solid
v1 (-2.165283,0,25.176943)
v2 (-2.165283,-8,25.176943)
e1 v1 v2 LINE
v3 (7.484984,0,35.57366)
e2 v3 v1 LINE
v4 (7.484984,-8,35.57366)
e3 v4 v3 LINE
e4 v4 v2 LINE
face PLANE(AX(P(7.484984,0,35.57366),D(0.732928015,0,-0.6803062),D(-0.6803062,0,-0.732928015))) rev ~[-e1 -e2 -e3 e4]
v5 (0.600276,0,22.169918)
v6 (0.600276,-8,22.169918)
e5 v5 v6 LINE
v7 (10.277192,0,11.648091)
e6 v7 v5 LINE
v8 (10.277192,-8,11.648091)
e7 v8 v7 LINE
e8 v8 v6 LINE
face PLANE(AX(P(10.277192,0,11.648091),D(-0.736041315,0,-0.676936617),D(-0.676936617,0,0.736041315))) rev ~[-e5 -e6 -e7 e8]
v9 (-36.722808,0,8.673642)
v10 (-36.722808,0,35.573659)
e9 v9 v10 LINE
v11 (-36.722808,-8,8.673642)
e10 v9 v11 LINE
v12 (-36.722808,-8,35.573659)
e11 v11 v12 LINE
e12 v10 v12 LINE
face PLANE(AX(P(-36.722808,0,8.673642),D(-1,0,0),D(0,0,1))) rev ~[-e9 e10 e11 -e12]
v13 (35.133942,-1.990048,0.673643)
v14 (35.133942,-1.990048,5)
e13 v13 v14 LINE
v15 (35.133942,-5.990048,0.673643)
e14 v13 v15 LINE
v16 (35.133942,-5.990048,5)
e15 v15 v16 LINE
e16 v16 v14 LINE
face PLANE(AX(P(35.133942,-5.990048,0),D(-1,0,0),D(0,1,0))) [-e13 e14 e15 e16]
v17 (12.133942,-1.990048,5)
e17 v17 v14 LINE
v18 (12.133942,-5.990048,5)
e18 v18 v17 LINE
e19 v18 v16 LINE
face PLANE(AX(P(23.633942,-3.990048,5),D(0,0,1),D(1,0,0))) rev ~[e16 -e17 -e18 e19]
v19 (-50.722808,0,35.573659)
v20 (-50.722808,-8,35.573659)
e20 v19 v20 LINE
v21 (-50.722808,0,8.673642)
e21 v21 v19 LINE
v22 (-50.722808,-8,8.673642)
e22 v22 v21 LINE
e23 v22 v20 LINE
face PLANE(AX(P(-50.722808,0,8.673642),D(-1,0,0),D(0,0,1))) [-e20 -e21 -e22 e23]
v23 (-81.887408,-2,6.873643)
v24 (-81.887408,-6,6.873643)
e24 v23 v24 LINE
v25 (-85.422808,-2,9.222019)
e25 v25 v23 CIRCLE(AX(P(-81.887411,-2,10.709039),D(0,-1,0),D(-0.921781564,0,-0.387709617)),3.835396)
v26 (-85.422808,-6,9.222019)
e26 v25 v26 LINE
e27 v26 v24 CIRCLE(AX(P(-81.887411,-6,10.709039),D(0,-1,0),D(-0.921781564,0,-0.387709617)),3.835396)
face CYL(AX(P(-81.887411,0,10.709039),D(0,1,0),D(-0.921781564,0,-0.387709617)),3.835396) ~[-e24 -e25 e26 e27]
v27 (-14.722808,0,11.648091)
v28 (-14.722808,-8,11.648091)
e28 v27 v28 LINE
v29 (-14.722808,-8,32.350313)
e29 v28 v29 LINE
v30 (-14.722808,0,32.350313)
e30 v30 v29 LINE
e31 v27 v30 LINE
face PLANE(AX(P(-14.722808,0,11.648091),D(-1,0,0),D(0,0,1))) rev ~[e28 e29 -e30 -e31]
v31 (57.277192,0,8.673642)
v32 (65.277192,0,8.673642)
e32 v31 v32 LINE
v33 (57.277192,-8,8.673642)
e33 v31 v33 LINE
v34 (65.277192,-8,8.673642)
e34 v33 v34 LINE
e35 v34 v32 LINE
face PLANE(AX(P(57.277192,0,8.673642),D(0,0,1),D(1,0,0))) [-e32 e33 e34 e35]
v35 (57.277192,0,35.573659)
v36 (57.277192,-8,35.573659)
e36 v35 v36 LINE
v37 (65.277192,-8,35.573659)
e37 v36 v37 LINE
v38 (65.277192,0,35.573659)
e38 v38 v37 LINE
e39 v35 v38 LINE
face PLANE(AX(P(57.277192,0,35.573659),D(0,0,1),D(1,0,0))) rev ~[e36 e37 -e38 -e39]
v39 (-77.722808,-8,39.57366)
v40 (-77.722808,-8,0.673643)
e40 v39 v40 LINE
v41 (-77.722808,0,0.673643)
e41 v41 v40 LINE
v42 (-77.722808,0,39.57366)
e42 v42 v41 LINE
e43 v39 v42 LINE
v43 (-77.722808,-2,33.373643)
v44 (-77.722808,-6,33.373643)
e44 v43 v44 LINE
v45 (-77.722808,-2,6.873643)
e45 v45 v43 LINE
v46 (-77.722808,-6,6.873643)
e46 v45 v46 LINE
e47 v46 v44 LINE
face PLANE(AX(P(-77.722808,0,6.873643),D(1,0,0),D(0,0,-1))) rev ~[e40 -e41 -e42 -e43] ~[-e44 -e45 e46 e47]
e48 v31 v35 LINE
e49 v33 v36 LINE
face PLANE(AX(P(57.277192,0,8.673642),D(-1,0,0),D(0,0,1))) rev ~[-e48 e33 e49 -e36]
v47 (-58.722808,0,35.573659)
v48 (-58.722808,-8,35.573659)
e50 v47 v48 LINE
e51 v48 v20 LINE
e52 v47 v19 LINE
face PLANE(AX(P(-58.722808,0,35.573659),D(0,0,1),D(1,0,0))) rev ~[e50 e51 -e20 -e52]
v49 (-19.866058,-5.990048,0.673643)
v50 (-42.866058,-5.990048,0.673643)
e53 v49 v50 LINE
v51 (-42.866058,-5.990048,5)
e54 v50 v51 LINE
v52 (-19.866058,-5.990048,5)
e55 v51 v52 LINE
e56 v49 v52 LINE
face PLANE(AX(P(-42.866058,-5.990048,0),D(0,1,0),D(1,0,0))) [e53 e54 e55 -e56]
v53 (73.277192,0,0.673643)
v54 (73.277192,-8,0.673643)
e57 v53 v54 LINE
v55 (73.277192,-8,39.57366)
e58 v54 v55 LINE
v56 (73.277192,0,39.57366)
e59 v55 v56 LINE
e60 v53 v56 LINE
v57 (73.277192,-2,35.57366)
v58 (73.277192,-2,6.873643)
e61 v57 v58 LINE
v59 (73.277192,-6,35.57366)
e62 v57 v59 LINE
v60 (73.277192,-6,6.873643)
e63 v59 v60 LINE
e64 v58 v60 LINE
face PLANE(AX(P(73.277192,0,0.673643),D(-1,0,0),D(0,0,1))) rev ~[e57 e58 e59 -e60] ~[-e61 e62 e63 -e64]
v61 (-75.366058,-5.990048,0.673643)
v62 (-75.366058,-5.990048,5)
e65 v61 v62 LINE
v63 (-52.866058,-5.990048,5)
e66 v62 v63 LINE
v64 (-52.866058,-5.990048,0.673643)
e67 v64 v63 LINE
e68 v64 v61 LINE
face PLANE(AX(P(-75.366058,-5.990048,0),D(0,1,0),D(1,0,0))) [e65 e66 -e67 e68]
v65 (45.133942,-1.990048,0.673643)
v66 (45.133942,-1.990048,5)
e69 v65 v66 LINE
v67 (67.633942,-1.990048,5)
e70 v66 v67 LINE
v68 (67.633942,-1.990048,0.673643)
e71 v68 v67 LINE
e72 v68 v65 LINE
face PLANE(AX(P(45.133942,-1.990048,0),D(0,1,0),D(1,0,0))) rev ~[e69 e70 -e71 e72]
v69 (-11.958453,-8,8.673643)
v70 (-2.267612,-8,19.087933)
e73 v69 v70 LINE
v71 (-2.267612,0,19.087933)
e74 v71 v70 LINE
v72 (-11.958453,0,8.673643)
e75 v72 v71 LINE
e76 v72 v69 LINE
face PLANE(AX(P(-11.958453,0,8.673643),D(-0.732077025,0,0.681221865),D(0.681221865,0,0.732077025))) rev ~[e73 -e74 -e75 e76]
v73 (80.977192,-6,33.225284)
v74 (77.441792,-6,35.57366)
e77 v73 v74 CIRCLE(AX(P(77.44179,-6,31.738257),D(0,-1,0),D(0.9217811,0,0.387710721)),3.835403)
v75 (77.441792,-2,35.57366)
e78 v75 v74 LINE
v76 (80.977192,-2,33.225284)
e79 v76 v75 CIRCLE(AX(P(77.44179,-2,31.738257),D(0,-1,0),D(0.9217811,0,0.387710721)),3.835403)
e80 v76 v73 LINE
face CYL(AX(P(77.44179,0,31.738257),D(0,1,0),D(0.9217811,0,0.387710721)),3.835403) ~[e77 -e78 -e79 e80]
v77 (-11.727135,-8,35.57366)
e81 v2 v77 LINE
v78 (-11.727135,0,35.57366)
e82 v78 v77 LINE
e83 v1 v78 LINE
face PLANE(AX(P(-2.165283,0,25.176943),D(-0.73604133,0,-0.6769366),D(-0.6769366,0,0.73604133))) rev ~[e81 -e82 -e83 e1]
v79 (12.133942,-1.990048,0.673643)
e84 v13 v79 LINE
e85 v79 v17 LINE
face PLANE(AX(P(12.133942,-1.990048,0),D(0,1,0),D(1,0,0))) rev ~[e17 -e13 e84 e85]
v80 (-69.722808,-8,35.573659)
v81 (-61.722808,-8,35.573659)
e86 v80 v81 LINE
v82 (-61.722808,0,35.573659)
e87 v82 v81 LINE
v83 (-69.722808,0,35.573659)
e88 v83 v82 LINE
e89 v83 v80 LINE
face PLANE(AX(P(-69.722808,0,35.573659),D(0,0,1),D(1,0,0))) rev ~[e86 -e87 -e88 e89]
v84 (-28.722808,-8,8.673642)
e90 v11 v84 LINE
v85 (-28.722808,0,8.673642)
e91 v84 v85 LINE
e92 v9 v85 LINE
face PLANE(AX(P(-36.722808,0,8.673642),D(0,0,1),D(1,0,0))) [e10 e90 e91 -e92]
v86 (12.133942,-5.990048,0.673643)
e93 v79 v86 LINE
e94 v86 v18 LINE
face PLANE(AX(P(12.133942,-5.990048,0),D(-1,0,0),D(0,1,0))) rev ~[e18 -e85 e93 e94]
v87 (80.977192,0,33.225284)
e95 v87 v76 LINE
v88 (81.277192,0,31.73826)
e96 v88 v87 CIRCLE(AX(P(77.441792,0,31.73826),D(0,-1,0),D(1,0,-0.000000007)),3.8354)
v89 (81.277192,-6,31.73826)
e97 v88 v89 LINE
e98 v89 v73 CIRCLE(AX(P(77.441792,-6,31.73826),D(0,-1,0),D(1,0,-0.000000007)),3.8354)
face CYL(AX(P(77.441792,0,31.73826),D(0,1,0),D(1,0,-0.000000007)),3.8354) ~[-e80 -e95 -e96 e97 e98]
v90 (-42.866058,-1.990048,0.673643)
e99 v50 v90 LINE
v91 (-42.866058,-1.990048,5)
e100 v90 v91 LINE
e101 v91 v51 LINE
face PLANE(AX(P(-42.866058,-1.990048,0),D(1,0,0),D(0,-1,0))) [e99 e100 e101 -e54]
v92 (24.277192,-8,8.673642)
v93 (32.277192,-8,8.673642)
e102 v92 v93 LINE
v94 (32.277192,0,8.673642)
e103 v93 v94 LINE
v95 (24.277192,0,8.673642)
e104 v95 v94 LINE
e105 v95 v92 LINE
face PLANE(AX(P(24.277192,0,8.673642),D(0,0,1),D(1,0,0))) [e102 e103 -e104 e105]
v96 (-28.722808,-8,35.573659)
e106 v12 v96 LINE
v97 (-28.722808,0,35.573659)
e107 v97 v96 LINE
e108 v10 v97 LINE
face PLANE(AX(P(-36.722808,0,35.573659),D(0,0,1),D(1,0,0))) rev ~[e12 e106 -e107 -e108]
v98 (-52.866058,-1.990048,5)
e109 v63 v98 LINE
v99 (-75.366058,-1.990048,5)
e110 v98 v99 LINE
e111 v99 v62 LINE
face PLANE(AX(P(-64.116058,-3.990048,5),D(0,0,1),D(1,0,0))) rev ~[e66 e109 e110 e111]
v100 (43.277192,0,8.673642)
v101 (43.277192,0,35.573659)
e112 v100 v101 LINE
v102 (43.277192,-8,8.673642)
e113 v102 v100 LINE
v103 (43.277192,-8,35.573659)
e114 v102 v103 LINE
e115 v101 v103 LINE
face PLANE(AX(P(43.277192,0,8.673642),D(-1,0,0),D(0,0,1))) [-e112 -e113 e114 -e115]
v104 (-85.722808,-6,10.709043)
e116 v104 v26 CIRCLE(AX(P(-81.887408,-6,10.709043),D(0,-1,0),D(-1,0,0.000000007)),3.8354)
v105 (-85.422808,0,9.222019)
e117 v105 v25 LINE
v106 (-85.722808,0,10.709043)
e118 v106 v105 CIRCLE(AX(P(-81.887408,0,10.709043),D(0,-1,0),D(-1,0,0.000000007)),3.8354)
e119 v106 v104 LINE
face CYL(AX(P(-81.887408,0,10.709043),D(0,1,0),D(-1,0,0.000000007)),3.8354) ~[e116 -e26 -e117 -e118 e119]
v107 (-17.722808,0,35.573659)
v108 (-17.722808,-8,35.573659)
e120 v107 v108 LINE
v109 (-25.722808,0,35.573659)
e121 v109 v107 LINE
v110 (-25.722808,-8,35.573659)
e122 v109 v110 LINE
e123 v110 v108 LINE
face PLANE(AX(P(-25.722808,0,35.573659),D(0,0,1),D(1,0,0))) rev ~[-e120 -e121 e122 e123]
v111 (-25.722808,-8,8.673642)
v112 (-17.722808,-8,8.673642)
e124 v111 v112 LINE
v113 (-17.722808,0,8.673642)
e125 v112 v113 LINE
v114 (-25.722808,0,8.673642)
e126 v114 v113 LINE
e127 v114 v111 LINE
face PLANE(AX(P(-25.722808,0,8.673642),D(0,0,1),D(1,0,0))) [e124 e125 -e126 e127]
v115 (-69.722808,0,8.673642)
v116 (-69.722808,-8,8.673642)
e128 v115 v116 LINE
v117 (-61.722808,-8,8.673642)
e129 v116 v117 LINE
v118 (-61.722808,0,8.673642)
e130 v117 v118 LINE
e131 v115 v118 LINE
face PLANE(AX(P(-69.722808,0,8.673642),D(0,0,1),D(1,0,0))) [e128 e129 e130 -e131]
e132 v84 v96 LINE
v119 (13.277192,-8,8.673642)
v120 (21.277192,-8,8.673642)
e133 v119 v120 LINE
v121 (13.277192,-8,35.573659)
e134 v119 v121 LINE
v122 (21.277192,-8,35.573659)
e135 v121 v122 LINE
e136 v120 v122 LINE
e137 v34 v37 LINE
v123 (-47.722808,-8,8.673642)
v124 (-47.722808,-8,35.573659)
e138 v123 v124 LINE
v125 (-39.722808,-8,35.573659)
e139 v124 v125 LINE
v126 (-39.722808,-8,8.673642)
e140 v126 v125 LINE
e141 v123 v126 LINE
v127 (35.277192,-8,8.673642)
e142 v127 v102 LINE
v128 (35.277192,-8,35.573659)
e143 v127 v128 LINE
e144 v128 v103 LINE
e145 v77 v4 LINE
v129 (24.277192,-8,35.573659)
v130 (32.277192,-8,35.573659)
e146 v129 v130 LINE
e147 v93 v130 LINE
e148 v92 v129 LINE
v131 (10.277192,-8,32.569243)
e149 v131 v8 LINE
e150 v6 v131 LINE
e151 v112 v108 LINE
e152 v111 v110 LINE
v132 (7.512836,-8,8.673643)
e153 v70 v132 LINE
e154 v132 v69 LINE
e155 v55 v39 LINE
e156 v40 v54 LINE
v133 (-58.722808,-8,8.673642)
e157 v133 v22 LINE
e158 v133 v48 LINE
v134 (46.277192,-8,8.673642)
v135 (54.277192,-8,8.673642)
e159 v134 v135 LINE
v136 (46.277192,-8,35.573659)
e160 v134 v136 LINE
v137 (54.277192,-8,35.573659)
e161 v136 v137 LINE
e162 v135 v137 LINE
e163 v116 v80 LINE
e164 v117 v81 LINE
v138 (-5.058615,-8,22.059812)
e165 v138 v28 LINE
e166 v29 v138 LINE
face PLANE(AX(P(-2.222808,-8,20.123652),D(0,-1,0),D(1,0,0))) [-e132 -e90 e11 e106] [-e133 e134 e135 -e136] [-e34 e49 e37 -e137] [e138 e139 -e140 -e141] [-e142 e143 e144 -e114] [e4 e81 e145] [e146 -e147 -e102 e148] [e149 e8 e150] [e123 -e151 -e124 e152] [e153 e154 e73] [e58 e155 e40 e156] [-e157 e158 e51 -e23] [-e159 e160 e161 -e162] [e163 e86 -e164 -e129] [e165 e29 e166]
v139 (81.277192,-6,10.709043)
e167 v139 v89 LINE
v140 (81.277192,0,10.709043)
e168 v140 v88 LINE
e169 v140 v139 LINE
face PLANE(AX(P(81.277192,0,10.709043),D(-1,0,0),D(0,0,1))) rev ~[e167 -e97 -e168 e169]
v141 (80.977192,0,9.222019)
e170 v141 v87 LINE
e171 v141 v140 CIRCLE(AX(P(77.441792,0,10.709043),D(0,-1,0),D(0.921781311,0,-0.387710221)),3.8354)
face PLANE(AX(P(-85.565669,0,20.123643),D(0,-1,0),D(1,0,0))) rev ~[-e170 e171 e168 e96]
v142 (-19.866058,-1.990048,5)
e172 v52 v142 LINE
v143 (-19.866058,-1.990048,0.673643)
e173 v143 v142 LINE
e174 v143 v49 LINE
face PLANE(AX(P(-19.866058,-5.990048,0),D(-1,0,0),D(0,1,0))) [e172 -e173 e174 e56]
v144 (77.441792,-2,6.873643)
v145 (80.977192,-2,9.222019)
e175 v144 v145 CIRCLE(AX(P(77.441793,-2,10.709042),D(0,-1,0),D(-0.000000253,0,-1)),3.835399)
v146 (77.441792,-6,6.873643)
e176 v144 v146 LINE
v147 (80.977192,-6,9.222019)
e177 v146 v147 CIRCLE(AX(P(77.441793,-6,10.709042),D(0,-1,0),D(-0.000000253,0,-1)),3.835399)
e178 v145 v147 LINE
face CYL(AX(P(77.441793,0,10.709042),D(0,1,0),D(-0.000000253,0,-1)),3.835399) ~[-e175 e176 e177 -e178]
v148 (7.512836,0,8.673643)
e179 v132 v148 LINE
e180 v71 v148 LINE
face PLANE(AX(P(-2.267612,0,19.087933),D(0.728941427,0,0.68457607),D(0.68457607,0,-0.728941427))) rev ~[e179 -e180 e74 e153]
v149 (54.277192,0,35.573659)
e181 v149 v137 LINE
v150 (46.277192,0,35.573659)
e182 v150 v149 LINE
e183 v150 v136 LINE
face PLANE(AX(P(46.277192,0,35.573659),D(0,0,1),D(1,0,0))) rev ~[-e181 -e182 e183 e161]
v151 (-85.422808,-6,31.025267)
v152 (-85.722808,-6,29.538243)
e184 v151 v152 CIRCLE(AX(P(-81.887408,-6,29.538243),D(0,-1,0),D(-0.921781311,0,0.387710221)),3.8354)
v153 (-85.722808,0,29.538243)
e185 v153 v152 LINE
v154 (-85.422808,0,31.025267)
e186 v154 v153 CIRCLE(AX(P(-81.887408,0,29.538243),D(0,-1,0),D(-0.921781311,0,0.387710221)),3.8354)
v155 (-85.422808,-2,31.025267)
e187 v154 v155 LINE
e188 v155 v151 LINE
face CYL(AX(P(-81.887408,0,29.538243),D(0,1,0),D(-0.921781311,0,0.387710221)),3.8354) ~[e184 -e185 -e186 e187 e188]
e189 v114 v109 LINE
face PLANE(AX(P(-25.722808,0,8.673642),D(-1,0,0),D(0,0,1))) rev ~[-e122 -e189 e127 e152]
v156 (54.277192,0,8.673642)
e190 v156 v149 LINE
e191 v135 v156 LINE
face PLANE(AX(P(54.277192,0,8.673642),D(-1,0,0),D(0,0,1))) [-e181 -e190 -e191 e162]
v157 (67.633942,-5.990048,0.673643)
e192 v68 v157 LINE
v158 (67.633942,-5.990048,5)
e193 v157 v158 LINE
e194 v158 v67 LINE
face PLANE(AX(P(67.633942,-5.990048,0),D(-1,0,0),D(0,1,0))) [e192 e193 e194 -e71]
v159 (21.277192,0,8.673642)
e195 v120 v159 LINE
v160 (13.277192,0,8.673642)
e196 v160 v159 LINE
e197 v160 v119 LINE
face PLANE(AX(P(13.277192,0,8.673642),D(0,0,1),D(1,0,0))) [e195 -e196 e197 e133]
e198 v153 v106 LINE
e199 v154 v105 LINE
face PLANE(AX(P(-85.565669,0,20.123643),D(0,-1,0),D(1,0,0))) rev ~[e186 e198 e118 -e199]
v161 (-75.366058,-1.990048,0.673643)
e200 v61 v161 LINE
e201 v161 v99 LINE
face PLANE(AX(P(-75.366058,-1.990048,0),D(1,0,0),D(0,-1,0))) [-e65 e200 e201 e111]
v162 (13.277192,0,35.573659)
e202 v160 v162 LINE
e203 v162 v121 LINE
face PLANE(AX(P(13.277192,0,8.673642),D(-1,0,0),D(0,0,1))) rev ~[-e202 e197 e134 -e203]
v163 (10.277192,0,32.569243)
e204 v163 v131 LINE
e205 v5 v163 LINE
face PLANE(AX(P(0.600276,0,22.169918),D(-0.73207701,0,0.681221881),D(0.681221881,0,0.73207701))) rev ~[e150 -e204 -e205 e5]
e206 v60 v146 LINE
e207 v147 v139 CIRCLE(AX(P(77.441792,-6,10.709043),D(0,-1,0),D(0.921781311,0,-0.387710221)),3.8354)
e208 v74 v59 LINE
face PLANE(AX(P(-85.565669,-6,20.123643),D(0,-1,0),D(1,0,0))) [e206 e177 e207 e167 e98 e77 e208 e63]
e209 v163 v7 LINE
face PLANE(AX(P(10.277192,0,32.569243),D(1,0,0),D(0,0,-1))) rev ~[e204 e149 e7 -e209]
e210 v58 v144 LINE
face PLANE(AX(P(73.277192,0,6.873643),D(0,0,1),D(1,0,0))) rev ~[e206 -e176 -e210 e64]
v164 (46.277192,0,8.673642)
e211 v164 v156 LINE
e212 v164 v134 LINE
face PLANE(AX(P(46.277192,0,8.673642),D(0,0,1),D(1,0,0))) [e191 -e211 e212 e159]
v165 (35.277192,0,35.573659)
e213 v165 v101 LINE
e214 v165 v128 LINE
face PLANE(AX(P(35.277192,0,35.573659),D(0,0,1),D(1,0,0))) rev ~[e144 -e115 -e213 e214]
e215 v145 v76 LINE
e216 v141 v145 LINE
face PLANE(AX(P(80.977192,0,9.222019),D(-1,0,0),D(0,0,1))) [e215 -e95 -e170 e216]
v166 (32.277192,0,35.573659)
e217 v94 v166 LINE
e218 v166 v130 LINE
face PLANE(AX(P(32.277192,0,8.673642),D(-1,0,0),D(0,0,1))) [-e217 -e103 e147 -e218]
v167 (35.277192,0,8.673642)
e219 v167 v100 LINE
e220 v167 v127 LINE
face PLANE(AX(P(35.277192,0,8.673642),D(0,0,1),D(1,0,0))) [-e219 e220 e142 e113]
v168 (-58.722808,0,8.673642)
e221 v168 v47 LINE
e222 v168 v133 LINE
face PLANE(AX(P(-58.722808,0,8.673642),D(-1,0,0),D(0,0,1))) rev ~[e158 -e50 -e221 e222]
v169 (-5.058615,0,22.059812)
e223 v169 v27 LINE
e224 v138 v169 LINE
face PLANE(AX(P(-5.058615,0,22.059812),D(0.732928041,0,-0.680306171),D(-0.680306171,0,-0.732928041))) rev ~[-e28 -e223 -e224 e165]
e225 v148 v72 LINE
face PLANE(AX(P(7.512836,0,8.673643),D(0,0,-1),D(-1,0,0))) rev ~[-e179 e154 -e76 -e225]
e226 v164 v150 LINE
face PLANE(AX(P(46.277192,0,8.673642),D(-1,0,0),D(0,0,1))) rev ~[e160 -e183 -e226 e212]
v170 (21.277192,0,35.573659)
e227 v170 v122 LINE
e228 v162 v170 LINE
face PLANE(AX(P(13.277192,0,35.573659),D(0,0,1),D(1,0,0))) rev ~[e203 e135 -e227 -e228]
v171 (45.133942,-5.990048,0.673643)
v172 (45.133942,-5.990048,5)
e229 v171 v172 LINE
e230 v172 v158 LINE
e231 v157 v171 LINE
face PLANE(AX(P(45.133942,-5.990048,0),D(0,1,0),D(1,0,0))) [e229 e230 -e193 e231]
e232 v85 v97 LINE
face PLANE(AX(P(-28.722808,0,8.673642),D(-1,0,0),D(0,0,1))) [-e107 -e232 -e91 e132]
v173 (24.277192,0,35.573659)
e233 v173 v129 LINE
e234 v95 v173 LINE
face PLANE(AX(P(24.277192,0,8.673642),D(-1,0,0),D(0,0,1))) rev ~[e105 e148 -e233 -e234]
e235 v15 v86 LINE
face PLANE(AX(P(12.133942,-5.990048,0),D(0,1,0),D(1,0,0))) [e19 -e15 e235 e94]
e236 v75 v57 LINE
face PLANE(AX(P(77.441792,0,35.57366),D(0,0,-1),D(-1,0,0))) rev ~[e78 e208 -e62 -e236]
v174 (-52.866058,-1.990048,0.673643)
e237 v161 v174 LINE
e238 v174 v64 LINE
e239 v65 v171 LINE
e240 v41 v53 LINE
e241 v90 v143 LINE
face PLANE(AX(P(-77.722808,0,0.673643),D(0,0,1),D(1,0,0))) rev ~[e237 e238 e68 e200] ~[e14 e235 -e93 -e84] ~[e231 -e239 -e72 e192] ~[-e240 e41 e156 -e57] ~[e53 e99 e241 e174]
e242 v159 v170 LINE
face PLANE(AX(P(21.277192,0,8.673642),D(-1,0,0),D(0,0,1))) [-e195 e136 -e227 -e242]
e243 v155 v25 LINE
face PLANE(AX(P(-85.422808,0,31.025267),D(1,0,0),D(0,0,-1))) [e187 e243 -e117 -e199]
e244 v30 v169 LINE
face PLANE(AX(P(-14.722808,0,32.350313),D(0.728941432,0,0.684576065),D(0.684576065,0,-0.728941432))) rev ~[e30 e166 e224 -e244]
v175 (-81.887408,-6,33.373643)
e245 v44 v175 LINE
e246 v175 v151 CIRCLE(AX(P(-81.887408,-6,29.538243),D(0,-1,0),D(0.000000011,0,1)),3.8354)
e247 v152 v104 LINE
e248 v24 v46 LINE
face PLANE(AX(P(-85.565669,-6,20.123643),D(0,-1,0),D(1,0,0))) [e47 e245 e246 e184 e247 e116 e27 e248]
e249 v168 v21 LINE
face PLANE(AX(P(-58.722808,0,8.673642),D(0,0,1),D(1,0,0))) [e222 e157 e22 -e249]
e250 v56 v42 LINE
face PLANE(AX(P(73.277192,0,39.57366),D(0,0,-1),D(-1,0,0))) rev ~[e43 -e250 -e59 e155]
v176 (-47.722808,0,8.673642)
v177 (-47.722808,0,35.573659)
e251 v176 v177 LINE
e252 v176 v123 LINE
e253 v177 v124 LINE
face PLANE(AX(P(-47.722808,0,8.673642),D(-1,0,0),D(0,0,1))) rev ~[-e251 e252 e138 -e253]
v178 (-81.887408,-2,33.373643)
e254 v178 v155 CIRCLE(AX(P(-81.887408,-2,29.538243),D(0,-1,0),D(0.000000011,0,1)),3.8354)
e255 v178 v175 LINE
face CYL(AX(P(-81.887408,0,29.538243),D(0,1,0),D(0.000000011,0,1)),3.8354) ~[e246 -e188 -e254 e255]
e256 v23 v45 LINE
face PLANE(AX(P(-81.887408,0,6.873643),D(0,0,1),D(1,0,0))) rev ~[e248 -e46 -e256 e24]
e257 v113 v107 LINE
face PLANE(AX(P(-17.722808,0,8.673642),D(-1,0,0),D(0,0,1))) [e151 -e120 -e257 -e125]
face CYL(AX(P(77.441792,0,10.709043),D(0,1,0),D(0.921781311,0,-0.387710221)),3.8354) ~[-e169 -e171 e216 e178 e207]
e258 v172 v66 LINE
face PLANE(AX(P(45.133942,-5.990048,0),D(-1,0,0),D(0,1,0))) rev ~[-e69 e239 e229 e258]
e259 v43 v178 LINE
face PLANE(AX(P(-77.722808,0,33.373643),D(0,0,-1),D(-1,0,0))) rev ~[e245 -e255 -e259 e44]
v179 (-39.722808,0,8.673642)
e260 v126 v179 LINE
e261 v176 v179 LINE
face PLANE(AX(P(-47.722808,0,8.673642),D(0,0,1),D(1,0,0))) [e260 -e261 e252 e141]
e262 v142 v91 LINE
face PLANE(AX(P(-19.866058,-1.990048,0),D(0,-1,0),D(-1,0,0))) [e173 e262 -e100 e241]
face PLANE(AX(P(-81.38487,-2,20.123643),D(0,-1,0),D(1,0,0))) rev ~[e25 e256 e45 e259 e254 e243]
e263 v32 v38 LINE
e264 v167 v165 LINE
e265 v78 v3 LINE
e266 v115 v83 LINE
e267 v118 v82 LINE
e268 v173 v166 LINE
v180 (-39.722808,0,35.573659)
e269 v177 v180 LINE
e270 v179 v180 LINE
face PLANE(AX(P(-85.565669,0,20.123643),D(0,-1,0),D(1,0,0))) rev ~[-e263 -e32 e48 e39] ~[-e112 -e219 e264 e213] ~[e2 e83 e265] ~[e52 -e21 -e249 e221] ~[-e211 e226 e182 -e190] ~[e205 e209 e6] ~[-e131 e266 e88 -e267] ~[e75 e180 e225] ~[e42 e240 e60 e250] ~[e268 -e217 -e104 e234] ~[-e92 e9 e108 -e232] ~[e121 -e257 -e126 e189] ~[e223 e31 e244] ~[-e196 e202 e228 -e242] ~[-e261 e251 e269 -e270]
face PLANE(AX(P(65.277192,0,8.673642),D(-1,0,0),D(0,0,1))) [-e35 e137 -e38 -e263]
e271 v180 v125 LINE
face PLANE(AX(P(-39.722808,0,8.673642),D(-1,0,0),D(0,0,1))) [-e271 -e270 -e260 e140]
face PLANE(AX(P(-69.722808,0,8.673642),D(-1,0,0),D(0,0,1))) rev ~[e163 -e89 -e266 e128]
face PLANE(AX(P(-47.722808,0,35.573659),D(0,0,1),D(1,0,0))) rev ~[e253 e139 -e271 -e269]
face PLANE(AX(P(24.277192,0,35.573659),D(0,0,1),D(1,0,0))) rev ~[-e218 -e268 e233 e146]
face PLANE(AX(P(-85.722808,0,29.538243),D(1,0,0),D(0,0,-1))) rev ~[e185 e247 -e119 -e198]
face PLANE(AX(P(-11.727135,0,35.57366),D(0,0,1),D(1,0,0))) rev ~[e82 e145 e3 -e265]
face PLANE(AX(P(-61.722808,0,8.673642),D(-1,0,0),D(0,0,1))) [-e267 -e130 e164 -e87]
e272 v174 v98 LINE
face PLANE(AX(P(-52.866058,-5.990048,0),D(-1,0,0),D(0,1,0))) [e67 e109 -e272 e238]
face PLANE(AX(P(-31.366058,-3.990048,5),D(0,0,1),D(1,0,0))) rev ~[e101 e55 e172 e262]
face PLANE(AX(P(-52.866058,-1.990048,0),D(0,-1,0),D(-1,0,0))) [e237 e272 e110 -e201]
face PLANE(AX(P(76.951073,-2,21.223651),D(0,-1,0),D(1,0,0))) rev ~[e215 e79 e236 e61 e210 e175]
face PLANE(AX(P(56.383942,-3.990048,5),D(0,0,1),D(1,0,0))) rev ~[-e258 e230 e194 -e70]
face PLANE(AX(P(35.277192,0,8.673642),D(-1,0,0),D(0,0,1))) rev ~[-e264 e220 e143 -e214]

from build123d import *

# Parameters (mm, degrees)
F0_W     = 8
F0_H     = 26.900017
F1_DEPTH = 6
F2_DEPTH = 2
F3_DEPTH = 8
F4_W     = 23
F4_H     = 4
F4_W_2   = 22.5
F5_DEPTH = 5


with BuildPart() as f1:
    # F0 (on Front) → F1 (new body)
    with BuildSketch(Plane.XZ):
        with BuildLine():
            Line((-85.422808, 9.222019), (-85.422808, 31.025267))
            ThreePointArc((-85.422808, 31.025267), (-85.64706, 30.296735), (-85.722808, 29.538243))
            Line((-85.722808, 29.538243), (-85.722808, 10.709043))
            ThreePointArc((-85.722808, 10.709043), (-85.64706, 9.950551), (-85.422808, 9.222019))
        make_face()
        with BuildLine():
            ThreePointArc((81.277192, 31.73826), (81.201444, 32.496752), (80.977192, 33.225284))
            Line((80.977192, 33.225284), (80.977192, 9.222019))
            ThreePointArc((80.977192, 9.222019), (81.201444, 9.950551), (81.277192, 10.709043))
            Line((81.277192, 10.709043), (81.277192, 31.73826))
        make_face()
        with BuildLine():
            Line((77.441792, 35.57366), (73.277192, 35.57366))
            Line((73.277192, 35.57366), (73.277192, 11.555429))
            Line((73.277192, 11.555429), (73.277192, 8.673643))
            Line((73.277192, 8.673643), (73.277192, 6.873643))
            Line((73.277192, 6.873643), (77.441792, 6.873643))
            ThreePointArc((77.441792, 6.873643), (79.563932, 7.514232), (80.977192, 9.222019))
            Line((80.977192, 9.222019), (80.977192, 33.225284))
            ThreePointArc((80.977192, 33.225284), (79.563932, 34.93307), (77.441792, 35.57366))
        make_face()
        Polygon((-69.722808, 39.57366), (-77.722808, 39.57366), (-77.722808, 35.57366), (-77.722808, 33.373643), (-77.722808, 15.555412), (-77.722808, 8.673643), (-77.722808, 6.873643), (-77.722808, 0.673643), (-69.722808, 0.673643), (65.277192, 0.673643), (73.277192, 0.673643), (73.277192, 6.873643), (73.277192, 8.673643), (73.277192, 11.555429), (73.277192, 35.57366), (73.277192, 39.57366), (65.277192, 39.57366), align=None)
        Polygon((-11.958453, 8.673643), (-2.267612, 19.087933), (7.512836, 8.673643), align=None, mode=Mode.SUBTRACT)
        with Locations((-65.722808, 22.123651)):
            Rectangle(F0_W, F0_H, mode=Mode.SUBTRACT)
        with Locations((-54.722808, 22.123651)):
            Rectangle(F0_W, F0_H, mode=Mode.SUBTRACT)
        with Locations((-43.722808, 22.123651)):
            Rectangle(F0_W, F0_H, mode=Mode.SUBTRACT)
        with Locations((-32.722808, 22.123651)):
            Rectangle(F0_W, F0_H, mode=Mode.SUBTRACT)
        with Locations((-21.722808, 22.123651)):
            Rectangle(F0_W, F0_H, mode=Mode.SUBTRACT)
        Polygon((-14.722808, 11.648091), (-14.722808, 32.350313), (-5.058615, 22.059812), align=None, mode=Mode.SUBTRACT)
        Polygon((0.600276, 22.169918), (10.277192, 32.569243), (10.277192, 11.648091), align=None, mode=Mode.SUBTRACT)
        with Locations((17.277192, 22.123651)):
            Rectangle(F0_W, F0_H, mode=Mode.SUBTRACT)
        with Locations((28.277192, 22.123651)):
            Rectangle(F0_W, F0_H, mode=Mode.SUBTRACT)
        with Locations((39.277192, 22.123651)):
            Rectangle(F0_W, F0_H, mode=Mode.SUBTRACT)
        with Locations((50.277192, 22.123651)):
            Rectangle(F0_W, F0_H, mode=Mode.SUBTRACT)
        with Locations((61.277192, 22.123651)):
            Rectangle(F0_W, F0_H, mode=Mode.SUBTRACT)
        Polygon((7.484984, 35.57366), (-2.165283, 25.176943), (-11.727135, 35.57366), align=None, mode=Mode.SUBTRACT)
        with BuildLine():
            Line((-77.722808, 15.555412), (-77.722808, 33.373643))
            Line((-77.722808, 33.373643), (-81.887408, 33.373643))
            ThreePointArc((-81.887408, 33.373643), (-84.009549, 32.733053), (-85.422808, 31.025267))
            Line((-85.422808, 31.025267), (-85.422808, 9.222019))
            ThreePointArc((-85.422808, 9.222019), (-84.009549, 7.514232), (-81.887408, 6.873643))
            Line((-81.887408, 6.873643), (-77.722808, 6.873643))
            Line((-77.722808, 6.873643), (-77.722808, 8.673643))
            Line((-77.722808, 8.673643), (-77.722808, 15.555412))
        make_face()
    extrude(amount=F1_DEPTH)

    # F0 (on Front) → F2 (cut)
    with BuildSketch(Plane.XZ):
        with BuildLine():
            Line((-77.722808, 15.555412), (-77.722808, 33.373643))
            Line((-77.722808, 33.373643), (-81.887408, 33.373643))
            ThreePointArc((-81.887408, 33.373643), (-84.009549, 32.733053), (-85.422808, 31.025267))
            Line((-85.422808, 31.025267), (-85.422808, 9.222019))
            ThreePointArc((-85.422808, 9.222019), (-84.009549, 7.514232), (-81.887408, 6.873643))
            Line((-81.887408, 6.873643), (-77.722808, 6.873643))
            Line((-77.722808, 6.873643), (-77.722808, 8.673643))
            Line((-77.722808, 8.673643), (-77.722808, 15.555412))
        make_face()
        with BuildLine():
            Line((77.441792, 35.57366), (73.277192, 35.57366))
            Line((73.277192, 35.57366), (73.277192, 11.555429))
            Line((73.277192, 11.555429), (73.277192, 8.673643))
            Line((73.277192, 8.673643), (73.277192, 6.873643))
            Line((73.277192, 6.873643), (77.441792, 6.873643))
            ThreePointArc((77.441792, 6.873643), (79.563932, 7.514232), (80.977192, 9.222019))
            Line((80.977192, 9.222019), (80.977192, 33.225284))
            ThreePointArc((80.977192, 33.225284), (79.563932, 34.93307), (77.441792, 35.57366))
        make_face()
    extrude(amount=F2_DEPTH, mode=Mode.SUBTRACT)

    # F0 (on Front) → F3 (join)
    with BuildSketch(Plane.XZ):
        Polygon((-69.722808, 39.57366), (-77.722808, 39.57366), (-77.722808, 35.57366), (-77.722808, 33.373643), (-77.722808, 15.555412), (-77.722808, 8.673643), (-77.722808, 6.873643), (-77.722808, 0.673643), (-69.722808, 0.673643), (65.277192, 0.673643), (73.277192, 0.673643), (73.277192, 6.873643), (73.277192, 8.673643), (73.277192, 11.555429), (73.277192, 35.57366), (73.277192, 39.57366), (65.277192, 39.57366), align=None)
        Polygon((-11.958453, 8.673643), (-2.267612, 19.087933), (7.512836, 8.673643), align=None, mode=Mode.SUBTRACT)
        with Locations((-65.722808, 22.123651)):
            Rectangle(F0_W, F0_H, mode=Mode.SUBTRACT)
        with Locations((-54.722808, 22.123651)):
            Rectangle(F0_W, F0_H, mode=Mode.SUBTRACT)
        with Locations((-43.722808, 22.123651)):
            Rectangle(F0_W, F0_H, mode=Mode.SUBTRACT)
        with Locations((-32.722808, 22.123651)):
            Rectangle(F0_W, F0_H, mode=Mode.SUBTRACT)
        with Locations((-21.722808, 22.123651)):
            Rectangle(F0_W, F0_H, mode=Mode.SUBTRACT)
        Polygon((-14.722808, 11.648091), (-14.722808, 32.350313), (-5.058615, 22.059812), align=None, mode=Mode.SUBTRACT)
        Polygon((0.600276, 22.169918), (10.277192, 32.569243), (10.277192, 11.648091), align=None, mode=Mode.SUBTRACT)
        with Locations((17.277192, 22.123651)):
            Rectangle(F0_W, F0_H, mode=Mode.SUBTRACT)
        with Locations((28.277192, 22.123651)):
            Rectangle(F0_W, F0_H, mode=Mode.SUBTRACT)
        with Locations((39.277192, 22.123651)):
            Rectangle(F0_W, F0_H, mode=Mode.SUBTRACT)
        with Locations((50.277192, 22.123651)):
            Rectangle(F0_W, F0_H, mode=Mode.SUBTRACT)
        with Locations((61.277192, 22.123651)):
            Rectangle(F0_W, F0_H, mode=Mode.SUBTRACT)
        Polygon((7.484984, 35.57366), (-2.165283, 25.176943), (-11.727135, 35.57366), align=None, mode=Mode.SUBTRACT)
    extrude(amount=F3_DEPTH)

    # F4 (on Top) → F5 (cut)
    with BuildSketch(Plane.XY):
        Polygon((-75.366058, -1.990048), (-75.366058, -5.990048), (-52.866058, -5.990048), (-52.866058, -3.990048), (-52.866058, -1.990048), align=None)
        Polygon((-42.866058, -1.990048), (-42.866058, -5.990048), (-19.866058, -5.990048), (-19.866058, -3.990048), (-19.866058, -1.990048), align=None)
        with Locations((23.633942, -3.990048)):
            Rectangle(F4_W, F4_H)
        with Locations((56.383942, -3.990048)):
            Rectangle(F4_W_2, F4_H)
    extrude(amount=F5_DEPTH, mode=Mode.SUBTRACT)


solid = f1.part
